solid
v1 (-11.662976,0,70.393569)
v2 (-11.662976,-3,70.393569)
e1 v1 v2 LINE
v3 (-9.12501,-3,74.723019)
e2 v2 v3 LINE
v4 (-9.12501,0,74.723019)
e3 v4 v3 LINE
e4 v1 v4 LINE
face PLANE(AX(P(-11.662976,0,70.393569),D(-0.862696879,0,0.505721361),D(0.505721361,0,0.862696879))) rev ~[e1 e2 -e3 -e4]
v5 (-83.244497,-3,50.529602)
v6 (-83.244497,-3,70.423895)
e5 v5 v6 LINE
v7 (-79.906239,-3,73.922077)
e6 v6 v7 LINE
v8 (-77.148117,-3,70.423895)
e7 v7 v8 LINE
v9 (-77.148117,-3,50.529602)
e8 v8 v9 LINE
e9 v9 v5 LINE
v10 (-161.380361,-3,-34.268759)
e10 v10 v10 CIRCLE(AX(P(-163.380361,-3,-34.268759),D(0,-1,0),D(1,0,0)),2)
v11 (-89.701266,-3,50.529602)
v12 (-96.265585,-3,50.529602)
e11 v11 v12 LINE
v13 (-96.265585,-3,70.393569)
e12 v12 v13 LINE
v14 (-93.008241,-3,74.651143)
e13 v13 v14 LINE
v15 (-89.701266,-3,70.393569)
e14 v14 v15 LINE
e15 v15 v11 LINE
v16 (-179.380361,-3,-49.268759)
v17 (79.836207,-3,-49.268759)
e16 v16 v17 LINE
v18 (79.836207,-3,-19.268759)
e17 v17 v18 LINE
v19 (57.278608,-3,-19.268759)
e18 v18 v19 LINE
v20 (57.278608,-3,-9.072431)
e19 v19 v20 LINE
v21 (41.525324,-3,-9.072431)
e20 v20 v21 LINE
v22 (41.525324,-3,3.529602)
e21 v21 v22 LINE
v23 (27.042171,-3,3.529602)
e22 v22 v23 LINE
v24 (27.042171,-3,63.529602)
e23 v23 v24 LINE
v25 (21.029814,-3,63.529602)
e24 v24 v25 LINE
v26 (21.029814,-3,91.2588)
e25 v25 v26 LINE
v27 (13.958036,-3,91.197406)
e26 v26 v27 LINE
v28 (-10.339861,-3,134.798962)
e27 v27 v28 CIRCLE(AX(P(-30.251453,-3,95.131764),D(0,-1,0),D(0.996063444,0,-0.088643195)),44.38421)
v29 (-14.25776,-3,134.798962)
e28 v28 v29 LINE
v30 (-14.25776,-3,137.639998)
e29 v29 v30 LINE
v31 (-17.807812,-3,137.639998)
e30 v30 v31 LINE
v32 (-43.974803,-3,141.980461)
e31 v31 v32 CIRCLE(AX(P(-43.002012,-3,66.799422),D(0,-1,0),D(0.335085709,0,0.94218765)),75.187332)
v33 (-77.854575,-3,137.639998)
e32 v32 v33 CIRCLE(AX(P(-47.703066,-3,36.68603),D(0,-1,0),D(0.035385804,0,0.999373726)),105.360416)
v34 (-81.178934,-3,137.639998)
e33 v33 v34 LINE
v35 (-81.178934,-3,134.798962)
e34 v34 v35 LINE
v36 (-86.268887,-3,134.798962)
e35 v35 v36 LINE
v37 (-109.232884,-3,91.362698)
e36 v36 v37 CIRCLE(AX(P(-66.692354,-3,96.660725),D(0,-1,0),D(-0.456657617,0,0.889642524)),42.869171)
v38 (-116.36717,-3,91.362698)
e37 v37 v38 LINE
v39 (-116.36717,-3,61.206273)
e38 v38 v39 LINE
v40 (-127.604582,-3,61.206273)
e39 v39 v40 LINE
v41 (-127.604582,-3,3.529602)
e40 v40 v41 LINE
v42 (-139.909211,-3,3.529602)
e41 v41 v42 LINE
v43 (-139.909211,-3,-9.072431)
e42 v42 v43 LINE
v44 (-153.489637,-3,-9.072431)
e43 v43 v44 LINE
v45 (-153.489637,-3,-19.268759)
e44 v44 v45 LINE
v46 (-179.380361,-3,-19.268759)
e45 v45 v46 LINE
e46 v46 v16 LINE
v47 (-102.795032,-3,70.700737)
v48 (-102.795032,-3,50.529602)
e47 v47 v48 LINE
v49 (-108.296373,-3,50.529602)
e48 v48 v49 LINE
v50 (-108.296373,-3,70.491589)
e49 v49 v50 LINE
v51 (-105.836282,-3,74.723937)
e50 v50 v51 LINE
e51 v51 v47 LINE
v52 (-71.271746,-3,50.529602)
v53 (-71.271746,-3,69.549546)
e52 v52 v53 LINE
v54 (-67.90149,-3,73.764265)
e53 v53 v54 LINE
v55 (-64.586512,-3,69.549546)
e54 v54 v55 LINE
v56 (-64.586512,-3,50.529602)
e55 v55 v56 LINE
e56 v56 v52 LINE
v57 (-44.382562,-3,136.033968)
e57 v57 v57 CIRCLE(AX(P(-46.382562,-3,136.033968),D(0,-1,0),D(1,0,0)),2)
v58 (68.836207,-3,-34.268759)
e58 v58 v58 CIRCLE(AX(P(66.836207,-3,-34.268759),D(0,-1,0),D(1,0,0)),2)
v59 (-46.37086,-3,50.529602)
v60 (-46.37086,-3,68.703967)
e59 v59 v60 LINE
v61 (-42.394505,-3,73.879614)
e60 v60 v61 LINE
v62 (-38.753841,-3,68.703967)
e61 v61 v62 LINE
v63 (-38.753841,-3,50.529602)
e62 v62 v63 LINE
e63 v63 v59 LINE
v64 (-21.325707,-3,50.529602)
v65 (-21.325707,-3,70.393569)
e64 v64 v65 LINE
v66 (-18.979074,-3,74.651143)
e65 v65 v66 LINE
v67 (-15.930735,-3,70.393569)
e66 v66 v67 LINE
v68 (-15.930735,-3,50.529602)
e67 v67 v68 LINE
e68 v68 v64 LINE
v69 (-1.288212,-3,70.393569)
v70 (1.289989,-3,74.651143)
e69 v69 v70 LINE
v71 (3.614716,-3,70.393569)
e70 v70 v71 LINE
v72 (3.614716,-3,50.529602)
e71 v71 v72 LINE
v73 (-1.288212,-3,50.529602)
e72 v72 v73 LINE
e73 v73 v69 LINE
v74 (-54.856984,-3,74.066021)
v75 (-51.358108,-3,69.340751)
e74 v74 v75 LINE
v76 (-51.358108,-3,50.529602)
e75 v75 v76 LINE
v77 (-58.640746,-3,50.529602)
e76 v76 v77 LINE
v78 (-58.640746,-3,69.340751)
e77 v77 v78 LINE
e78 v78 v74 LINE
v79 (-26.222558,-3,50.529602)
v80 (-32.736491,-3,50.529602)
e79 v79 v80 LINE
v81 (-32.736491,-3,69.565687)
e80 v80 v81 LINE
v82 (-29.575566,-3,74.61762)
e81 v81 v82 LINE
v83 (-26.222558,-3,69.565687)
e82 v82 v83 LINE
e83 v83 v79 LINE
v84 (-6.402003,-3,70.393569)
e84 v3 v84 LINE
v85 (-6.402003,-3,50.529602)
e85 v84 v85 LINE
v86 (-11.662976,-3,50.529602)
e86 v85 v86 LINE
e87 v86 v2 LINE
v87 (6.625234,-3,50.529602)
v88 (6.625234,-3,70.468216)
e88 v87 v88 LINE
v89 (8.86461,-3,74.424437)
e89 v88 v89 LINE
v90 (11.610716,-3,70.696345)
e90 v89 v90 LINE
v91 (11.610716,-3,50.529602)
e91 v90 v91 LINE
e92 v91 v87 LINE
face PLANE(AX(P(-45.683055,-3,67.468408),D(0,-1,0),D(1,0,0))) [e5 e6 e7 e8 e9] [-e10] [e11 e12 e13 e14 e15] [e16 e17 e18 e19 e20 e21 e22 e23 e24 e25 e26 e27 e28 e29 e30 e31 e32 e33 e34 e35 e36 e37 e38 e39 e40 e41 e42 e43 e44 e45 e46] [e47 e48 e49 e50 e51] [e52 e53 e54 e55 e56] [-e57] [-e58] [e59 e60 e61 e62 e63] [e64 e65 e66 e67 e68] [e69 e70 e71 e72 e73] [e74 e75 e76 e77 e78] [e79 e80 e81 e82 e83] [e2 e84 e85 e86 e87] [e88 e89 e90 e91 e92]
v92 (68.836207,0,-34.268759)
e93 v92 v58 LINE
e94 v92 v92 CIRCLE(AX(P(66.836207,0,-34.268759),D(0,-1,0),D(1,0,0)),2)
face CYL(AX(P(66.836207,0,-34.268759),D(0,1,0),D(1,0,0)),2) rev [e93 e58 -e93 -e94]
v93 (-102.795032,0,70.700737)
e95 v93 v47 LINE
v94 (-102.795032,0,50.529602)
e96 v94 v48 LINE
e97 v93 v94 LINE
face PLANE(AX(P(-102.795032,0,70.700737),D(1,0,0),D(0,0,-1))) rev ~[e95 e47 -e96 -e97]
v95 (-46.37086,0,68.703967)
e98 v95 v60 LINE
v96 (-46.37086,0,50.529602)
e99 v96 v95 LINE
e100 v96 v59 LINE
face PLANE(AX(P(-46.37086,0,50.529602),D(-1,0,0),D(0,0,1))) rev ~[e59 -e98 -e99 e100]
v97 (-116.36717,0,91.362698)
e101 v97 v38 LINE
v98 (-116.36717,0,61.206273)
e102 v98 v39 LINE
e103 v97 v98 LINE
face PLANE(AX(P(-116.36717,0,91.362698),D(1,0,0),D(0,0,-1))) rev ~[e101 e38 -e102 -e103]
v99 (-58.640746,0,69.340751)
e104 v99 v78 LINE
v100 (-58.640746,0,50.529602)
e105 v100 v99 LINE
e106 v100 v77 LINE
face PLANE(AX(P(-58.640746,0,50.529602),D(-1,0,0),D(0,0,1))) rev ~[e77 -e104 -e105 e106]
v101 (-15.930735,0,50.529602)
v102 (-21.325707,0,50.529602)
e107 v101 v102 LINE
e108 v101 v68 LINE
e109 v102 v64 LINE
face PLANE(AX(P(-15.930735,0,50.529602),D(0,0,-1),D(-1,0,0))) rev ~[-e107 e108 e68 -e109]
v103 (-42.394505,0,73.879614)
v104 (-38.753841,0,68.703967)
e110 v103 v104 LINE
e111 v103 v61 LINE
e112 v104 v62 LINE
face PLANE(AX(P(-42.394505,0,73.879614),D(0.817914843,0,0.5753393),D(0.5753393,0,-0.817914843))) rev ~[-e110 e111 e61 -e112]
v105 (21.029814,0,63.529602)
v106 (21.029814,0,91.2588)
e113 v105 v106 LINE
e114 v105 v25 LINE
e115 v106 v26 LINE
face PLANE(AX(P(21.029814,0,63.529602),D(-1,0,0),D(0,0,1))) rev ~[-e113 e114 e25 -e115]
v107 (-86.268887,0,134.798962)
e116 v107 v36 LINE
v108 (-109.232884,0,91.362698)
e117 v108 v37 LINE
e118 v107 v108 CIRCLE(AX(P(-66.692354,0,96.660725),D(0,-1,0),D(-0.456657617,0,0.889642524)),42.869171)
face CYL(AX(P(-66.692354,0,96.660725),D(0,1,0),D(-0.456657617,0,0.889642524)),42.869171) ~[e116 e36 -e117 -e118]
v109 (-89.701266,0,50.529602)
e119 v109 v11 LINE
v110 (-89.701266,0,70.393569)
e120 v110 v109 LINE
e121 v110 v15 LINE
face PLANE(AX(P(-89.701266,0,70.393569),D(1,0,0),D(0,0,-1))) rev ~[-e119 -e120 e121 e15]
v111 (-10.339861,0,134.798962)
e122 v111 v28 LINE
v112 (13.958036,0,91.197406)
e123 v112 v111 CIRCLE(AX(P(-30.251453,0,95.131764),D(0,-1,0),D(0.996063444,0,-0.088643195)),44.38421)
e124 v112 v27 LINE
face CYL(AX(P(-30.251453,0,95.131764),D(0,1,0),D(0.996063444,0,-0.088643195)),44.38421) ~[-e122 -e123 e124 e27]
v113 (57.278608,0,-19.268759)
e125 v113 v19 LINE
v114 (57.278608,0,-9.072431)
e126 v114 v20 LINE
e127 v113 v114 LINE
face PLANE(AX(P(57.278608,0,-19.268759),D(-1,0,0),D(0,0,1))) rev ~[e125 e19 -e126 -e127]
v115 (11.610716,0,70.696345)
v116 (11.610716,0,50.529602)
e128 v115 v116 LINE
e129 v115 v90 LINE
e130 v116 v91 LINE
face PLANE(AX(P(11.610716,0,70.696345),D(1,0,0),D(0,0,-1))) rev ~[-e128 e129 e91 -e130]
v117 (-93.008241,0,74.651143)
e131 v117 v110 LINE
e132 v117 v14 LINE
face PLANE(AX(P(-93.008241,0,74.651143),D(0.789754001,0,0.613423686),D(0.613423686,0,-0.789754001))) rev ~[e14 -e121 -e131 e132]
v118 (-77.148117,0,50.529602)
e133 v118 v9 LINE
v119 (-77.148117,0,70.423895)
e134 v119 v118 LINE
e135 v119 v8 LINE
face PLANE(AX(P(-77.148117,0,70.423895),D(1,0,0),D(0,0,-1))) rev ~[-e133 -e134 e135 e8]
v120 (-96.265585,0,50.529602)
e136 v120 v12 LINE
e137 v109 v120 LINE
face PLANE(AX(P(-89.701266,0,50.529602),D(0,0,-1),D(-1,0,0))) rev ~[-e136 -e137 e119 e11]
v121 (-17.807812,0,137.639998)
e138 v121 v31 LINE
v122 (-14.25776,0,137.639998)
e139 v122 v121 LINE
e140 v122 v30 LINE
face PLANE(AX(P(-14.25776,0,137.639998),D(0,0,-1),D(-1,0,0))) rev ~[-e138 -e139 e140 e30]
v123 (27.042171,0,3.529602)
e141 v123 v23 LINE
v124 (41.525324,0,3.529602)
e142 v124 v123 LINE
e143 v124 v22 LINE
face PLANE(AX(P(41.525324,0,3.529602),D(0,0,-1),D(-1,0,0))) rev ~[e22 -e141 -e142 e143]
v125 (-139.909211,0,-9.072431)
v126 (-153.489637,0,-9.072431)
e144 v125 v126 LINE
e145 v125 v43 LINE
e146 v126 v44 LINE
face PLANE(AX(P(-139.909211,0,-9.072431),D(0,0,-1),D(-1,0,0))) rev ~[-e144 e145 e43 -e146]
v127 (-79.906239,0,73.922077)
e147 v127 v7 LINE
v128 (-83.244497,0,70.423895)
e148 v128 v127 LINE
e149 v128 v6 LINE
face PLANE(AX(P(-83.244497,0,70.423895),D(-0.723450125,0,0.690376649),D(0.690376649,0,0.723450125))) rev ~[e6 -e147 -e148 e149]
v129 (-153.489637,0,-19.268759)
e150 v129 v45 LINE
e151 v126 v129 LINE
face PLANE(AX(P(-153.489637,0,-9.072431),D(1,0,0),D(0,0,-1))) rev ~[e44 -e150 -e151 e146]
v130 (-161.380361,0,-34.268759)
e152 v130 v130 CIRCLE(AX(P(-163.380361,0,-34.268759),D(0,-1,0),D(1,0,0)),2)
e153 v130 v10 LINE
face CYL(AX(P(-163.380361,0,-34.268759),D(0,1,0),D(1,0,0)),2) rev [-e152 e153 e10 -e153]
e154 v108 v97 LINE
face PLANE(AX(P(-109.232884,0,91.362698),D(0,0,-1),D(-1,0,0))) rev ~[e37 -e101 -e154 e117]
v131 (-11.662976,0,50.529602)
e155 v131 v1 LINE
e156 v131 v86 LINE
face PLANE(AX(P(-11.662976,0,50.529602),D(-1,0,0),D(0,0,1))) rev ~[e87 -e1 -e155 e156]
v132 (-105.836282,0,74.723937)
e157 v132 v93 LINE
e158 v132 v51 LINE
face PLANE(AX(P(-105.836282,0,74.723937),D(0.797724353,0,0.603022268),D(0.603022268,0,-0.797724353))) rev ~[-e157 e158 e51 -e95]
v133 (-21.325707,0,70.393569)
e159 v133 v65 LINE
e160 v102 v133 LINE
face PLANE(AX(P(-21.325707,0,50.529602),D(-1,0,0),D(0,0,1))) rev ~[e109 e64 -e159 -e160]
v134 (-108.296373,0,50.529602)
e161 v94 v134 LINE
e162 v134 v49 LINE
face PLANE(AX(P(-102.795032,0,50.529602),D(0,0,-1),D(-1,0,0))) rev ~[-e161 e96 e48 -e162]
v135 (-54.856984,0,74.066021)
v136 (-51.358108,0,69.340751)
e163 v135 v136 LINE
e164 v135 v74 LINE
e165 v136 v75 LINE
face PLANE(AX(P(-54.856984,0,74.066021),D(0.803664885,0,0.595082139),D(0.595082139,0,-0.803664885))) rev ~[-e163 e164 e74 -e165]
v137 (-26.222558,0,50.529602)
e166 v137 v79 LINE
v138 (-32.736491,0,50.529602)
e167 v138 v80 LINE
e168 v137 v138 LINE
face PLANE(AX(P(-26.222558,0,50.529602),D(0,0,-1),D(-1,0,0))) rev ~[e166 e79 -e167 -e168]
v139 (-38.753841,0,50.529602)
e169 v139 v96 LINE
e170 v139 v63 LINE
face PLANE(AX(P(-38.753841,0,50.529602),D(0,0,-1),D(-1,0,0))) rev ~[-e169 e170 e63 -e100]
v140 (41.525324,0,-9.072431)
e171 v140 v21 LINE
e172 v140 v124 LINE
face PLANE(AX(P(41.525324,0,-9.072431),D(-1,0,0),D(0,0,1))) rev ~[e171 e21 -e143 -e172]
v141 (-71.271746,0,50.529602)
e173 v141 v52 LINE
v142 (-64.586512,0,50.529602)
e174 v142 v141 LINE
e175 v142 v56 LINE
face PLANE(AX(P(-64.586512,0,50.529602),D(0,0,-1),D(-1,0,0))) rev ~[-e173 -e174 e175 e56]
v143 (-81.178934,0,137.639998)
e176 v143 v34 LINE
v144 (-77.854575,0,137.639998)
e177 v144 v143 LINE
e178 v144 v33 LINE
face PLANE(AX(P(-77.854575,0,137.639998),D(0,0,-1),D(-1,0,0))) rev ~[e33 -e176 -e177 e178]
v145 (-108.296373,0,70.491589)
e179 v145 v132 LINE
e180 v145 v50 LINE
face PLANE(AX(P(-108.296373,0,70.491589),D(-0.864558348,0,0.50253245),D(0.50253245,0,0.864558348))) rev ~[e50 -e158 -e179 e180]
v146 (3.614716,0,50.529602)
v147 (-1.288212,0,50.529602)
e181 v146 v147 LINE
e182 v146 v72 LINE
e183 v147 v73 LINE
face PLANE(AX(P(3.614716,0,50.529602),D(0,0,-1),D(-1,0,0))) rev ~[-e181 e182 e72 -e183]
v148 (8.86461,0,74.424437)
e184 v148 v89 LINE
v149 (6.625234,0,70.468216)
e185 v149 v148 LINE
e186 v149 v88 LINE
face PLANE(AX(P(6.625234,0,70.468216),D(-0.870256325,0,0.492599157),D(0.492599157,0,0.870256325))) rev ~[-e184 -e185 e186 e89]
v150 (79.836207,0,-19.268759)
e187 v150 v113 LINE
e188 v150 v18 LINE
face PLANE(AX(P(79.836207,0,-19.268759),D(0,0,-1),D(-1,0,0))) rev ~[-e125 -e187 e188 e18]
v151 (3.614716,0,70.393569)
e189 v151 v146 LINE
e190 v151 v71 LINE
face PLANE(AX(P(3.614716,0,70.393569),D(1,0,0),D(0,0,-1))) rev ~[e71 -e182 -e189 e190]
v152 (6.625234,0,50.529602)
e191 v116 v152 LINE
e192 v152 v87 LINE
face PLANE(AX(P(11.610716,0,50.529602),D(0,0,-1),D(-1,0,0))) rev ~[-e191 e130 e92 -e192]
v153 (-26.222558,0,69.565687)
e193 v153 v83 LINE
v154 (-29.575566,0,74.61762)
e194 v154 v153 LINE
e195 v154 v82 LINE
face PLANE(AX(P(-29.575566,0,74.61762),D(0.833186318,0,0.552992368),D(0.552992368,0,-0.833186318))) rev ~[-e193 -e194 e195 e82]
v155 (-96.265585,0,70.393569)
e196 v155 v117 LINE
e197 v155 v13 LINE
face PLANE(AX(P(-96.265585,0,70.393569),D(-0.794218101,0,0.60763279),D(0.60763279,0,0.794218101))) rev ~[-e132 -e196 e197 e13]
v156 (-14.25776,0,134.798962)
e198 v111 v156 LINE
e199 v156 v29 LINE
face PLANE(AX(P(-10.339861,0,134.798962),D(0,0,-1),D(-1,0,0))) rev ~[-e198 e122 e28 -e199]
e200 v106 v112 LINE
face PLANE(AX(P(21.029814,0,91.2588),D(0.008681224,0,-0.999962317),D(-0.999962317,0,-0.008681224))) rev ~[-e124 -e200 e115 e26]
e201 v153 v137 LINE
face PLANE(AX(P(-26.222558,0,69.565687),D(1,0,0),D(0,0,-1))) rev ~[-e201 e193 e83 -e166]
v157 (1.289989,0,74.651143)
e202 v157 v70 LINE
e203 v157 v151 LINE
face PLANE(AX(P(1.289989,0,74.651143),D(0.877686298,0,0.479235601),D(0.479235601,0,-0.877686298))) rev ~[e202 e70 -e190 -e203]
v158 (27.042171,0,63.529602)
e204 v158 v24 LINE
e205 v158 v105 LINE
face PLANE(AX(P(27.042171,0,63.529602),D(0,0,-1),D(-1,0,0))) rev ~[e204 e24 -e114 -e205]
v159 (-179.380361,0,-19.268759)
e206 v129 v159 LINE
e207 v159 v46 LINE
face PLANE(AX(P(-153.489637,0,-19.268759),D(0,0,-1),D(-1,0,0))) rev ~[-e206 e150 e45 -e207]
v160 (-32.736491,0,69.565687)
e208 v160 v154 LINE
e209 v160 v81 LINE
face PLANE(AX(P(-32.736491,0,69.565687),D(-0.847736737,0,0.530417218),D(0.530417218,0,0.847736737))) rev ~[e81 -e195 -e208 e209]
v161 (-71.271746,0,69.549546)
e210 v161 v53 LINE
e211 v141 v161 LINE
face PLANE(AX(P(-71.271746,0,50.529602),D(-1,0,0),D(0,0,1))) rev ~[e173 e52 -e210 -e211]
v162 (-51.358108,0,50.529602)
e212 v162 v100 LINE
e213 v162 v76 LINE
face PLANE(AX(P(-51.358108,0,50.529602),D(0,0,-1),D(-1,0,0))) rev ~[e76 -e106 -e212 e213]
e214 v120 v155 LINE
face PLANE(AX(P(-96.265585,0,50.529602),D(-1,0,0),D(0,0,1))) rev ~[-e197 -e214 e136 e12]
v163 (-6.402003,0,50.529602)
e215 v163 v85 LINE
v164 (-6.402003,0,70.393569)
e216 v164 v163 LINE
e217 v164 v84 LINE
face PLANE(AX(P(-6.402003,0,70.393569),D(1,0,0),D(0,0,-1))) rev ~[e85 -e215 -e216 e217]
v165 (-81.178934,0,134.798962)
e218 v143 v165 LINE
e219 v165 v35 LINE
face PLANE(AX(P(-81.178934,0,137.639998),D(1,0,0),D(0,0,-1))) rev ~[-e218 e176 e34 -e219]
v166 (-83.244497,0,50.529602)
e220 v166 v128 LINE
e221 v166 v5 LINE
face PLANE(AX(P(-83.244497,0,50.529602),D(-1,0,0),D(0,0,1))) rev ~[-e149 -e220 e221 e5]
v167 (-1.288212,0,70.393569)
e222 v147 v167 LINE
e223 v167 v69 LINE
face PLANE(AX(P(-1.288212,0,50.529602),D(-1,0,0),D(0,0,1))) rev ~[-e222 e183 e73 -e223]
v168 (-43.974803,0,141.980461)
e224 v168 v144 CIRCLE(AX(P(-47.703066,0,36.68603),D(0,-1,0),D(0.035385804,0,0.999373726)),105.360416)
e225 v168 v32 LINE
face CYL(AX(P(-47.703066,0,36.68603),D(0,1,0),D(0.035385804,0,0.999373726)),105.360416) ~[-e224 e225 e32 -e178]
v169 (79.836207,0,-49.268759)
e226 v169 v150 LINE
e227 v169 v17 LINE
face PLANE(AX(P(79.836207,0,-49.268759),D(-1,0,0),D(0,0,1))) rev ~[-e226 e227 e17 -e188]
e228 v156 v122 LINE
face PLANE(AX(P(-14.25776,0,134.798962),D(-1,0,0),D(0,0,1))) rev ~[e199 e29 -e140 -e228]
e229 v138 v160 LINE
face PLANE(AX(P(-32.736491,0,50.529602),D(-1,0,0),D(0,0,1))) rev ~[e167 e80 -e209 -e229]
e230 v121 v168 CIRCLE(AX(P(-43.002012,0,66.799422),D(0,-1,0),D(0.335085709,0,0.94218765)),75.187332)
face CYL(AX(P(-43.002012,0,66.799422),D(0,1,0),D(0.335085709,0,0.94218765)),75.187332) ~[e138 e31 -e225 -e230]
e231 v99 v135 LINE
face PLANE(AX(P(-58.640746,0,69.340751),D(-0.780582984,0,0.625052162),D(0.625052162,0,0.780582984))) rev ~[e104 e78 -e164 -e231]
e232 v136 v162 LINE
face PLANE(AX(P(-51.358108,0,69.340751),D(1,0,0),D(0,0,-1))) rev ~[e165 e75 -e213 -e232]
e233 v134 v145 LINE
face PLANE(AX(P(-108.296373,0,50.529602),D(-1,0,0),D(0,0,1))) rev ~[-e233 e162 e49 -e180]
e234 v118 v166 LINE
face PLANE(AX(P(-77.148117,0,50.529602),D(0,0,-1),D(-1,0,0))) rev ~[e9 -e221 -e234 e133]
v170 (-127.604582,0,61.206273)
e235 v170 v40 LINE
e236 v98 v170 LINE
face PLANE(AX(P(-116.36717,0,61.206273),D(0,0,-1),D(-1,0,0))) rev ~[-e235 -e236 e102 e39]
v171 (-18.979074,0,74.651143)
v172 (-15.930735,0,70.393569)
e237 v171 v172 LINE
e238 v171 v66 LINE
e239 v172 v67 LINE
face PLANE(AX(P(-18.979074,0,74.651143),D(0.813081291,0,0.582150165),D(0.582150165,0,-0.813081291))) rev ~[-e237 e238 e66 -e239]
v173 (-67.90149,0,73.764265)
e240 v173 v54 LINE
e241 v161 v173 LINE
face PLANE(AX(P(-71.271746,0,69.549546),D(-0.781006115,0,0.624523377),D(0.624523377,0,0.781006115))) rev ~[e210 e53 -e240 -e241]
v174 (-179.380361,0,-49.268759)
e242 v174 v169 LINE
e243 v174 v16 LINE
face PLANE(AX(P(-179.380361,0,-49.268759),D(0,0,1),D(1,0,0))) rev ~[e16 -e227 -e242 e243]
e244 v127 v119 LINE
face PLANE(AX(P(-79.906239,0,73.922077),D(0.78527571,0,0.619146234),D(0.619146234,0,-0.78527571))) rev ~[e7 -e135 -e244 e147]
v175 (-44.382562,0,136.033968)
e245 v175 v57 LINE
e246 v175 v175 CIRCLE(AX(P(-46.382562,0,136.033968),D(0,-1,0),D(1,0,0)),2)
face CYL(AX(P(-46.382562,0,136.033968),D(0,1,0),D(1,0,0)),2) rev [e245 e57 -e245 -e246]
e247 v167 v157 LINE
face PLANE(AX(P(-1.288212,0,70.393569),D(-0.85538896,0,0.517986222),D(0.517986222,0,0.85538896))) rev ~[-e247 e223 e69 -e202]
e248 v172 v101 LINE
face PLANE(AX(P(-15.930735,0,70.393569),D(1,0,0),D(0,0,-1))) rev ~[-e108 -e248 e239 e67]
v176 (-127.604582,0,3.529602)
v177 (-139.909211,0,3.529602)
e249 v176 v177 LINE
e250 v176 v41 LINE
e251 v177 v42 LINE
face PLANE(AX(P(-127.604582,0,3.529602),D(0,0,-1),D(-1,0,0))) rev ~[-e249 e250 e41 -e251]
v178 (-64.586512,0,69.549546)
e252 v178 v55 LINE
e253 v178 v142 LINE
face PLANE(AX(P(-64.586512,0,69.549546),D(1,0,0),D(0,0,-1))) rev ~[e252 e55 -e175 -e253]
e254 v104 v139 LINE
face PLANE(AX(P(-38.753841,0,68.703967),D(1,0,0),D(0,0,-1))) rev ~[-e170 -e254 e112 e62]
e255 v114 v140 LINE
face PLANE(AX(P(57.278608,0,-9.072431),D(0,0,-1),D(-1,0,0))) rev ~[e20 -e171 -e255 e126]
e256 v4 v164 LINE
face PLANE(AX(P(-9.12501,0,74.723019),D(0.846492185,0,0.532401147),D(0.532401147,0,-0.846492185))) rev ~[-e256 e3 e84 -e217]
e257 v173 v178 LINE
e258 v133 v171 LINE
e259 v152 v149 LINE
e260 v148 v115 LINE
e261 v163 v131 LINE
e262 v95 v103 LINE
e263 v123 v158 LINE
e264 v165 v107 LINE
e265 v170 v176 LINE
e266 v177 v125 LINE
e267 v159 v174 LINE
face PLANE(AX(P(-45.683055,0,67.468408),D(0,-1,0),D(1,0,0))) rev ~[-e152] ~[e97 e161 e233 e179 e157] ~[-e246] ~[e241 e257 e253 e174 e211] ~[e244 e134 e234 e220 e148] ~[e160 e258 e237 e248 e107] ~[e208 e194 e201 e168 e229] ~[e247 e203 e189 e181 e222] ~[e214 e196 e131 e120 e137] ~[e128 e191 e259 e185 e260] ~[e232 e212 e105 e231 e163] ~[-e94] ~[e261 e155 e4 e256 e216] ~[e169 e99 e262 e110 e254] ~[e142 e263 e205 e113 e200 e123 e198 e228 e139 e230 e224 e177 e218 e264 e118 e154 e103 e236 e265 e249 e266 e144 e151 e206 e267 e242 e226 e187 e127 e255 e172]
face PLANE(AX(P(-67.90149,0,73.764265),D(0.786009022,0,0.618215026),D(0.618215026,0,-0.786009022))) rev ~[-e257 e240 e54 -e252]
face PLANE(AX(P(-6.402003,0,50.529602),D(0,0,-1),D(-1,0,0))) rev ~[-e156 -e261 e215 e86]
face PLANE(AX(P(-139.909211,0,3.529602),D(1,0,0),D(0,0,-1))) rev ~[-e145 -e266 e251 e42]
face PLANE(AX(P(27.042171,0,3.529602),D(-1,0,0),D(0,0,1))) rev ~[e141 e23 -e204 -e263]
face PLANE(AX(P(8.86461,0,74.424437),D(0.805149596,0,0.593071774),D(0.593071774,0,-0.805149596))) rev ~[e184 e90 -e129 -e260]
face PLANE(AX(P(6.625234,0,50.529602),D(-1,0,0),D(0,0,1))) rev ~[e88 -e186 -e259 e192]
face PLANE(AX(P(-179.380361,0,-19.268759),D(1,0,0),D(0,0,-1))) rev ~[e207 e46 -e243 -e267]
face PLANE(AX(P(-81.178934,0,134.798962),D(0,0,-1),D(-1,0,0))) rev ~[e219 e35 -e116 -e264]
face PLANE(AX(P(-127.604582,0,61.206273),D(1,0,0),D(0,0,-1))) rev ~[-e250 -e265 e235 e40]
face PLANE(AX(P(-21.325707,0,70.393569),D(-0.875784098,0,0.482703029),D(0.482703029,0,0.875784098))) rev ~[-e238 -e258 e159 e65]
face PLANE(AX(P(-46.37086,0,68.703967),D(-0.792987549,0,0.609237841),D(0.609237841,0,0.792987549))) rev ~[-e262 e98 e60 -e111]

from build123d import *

# Parameters (mm, degrees)
F0_R     = 2
F1_DEPTH = 3


with BuildPart() as f1:
    # F0 (on Front) → F1 (new body)
    with BuildSketch(Plane.XZ):
        Polygon((-116.36717, 91.362698), (-116.36717, 61.206273), (-108.296373, 50.529602), (-108.296373, 70.491589), (-105.836282, 74.723937), (-102.795032, 70.700737), (-102.795032, 50.529602), (-96.265585, 50.529602), (-96.265585, 70.393569), (-93.008241, 74.651143), (-89.701266, 70.393569), (-89.701266, 50.529602), (-83.244497, 50.529602), (-83.244497, 70.423895), (-79.906239, 73.922077), (-77.148117, 70.423895), (-77.148117, 50.529602), (-71.271746, 50.529602), (-71.271746, 69.549546), (-67.90149, 73.764265), (-64.586512, 69.549546), (-64.586512, 50.529602), (-58.640746, 50.529602), (-58.640746, 69.340751), (-54.856984, 74.066021), (-51.358108, 69.340751), (-51.358108, 50.529602), (-46.37086, 50.529602), (-46.37086, 68.703967), (-42.394505, 73.879614), (-38.753841, 68.703967), (-38.753841, 50.529602), (-32.736491, 50.529602), (-32.736491, 69.565687), (-29.575566, 74.61762), (-26.222558, 69.565687), (-26.222558, 50.529602), (-21.325707, 50.529602), (-21.325707, 70.393569), (-18.979074, 74.651143), (-15.930735, 70.393569), (-15.930735, 50.529602), (-11.662976, 50.529602), (-11.662976, 70.393569), (-9.12501, 74.723019), (-6.402003, 70.393569), (-6.402003, 50.529602), (-1.288212, 50.529602), (-1.288212, 70.393569), (1.289989, 74.651143), (3.614716, 70.393569), (3.614716, 50.529602), (6.625234, 50.529602), (6.625234, 70.468216), (8.86461, 74.424437), (11.610716, 70.696345), (11.610716, 50.529602), (15.495674, 50.529602), (21.029814, 63.529602), (21.029814, 91.2588), (13.958036, 91.197406), (-7.926733, 91.007412), (-109.232884, 91.362698), align=None)
        with BuildLine():
            ThreePointArc((-86.268887, 134.798962), (-104.59103, 116.697095), (-109.232884, 91.362698))
            Line((-109.232884, 91.362698), (-7.926733, 91.007412))
            Line((-7.926733, 91.007412), (13.958036, 91.197406))
            ThreePointArc((13.958036, 91.197406), (8.519054, 116.737455), (-10.339861, 134.798962))
            Line((-10.339861, 134.798962), (-14.25776, 134.798962))
            Line((-14.25776, 134.798962), (-14.25776, 137.639998))
            Line((-14.25776, 137.639998), (-17.807812, 137.639998))
            ThreePointArc((-17.807812, 137.639998), (-30.698392, 140.973244), (-43.974803, 141.980461))
            ThreePointArc((-43.974803, 141.980461), (-61.091751, 141.192299), (-77.854575, 137.639998))
            Line((-77.854575, 137.639998), (-81.178934, 137.639998))
            Line((-81.178934, 137.639998), (-81.178934, 134.798962))
            Line((-81.178934, 134.798962), (-86.268887, 134.798962))
        make_face()
        with Locations((-46.382562, 136.033968)):
            Circle(F0_R, mode=Mode.SUBTRACT)
        Polygon((-127.604582, 61.206273), (-127.604582, 3.529602), (27.042171, 3.529602), (27.042171, 63.529602), (21.029814, 63.529602), (15.495674, 50.529602), (11.610716, 50.529602), (6.625234, 50.529602), (3.614716, 50.529602), (-1.288212, 50.529602), (-6.402003, 50.529602), (-11.662976, 50.529602), (-15.930735, 50.529602), (-21.325707, 50.529602), (-26.222558, 50.529602), (-32.736491, 50.529602), (-38.753841, 50.529602), (-46.37086, 50.529602), (-51.358108, 50.529602), (-58.640746, 50.529602), (-64.586512, 50.529602), (-71.271746, 50.529602), (-77.148117, 50.529602), (-83.244497, 50.529602), (-89.701266, 50.529602), (-96.265585, 50.529602), (-102.795032, 50.529602), (-108.296373, 50.529602), (-116.36717, 61.206273), align=None)
        Polygon((-153.489637, -9.072431), (-153.489637, -19.268759), (57.278608, -19.268759), (57.278608, -9.072431), (41.525324, -9.072431), (-139.909211, -9.072431), align=None)
        Polygon((-139.909211, 3.529602), (-139.909211, -9.072431), (41.525324, -9.072431), (41.525324, 3.529602), (27.042171, 3.529602), (-127.604582, 3.529602), align=None)
        Polygon((-153.489637, -19.268759), (-179.380361, -19.268759), (-179.380361, -49.268759), (79.836207, -49.268759), (79.836207, -19.268759), (57.278608, -19.268759), align=None)
        with Locations((-163.380361, -34.268759)):
            Circle(F0_R, mode=Mode.SUBTRACT)
        with Locations((66.836207, -34.268759)):
            Circle(F0_R, mode=Mode.SUBTRACT)
    extrude(amount=F1_DEPTH)


solid = f1.part
